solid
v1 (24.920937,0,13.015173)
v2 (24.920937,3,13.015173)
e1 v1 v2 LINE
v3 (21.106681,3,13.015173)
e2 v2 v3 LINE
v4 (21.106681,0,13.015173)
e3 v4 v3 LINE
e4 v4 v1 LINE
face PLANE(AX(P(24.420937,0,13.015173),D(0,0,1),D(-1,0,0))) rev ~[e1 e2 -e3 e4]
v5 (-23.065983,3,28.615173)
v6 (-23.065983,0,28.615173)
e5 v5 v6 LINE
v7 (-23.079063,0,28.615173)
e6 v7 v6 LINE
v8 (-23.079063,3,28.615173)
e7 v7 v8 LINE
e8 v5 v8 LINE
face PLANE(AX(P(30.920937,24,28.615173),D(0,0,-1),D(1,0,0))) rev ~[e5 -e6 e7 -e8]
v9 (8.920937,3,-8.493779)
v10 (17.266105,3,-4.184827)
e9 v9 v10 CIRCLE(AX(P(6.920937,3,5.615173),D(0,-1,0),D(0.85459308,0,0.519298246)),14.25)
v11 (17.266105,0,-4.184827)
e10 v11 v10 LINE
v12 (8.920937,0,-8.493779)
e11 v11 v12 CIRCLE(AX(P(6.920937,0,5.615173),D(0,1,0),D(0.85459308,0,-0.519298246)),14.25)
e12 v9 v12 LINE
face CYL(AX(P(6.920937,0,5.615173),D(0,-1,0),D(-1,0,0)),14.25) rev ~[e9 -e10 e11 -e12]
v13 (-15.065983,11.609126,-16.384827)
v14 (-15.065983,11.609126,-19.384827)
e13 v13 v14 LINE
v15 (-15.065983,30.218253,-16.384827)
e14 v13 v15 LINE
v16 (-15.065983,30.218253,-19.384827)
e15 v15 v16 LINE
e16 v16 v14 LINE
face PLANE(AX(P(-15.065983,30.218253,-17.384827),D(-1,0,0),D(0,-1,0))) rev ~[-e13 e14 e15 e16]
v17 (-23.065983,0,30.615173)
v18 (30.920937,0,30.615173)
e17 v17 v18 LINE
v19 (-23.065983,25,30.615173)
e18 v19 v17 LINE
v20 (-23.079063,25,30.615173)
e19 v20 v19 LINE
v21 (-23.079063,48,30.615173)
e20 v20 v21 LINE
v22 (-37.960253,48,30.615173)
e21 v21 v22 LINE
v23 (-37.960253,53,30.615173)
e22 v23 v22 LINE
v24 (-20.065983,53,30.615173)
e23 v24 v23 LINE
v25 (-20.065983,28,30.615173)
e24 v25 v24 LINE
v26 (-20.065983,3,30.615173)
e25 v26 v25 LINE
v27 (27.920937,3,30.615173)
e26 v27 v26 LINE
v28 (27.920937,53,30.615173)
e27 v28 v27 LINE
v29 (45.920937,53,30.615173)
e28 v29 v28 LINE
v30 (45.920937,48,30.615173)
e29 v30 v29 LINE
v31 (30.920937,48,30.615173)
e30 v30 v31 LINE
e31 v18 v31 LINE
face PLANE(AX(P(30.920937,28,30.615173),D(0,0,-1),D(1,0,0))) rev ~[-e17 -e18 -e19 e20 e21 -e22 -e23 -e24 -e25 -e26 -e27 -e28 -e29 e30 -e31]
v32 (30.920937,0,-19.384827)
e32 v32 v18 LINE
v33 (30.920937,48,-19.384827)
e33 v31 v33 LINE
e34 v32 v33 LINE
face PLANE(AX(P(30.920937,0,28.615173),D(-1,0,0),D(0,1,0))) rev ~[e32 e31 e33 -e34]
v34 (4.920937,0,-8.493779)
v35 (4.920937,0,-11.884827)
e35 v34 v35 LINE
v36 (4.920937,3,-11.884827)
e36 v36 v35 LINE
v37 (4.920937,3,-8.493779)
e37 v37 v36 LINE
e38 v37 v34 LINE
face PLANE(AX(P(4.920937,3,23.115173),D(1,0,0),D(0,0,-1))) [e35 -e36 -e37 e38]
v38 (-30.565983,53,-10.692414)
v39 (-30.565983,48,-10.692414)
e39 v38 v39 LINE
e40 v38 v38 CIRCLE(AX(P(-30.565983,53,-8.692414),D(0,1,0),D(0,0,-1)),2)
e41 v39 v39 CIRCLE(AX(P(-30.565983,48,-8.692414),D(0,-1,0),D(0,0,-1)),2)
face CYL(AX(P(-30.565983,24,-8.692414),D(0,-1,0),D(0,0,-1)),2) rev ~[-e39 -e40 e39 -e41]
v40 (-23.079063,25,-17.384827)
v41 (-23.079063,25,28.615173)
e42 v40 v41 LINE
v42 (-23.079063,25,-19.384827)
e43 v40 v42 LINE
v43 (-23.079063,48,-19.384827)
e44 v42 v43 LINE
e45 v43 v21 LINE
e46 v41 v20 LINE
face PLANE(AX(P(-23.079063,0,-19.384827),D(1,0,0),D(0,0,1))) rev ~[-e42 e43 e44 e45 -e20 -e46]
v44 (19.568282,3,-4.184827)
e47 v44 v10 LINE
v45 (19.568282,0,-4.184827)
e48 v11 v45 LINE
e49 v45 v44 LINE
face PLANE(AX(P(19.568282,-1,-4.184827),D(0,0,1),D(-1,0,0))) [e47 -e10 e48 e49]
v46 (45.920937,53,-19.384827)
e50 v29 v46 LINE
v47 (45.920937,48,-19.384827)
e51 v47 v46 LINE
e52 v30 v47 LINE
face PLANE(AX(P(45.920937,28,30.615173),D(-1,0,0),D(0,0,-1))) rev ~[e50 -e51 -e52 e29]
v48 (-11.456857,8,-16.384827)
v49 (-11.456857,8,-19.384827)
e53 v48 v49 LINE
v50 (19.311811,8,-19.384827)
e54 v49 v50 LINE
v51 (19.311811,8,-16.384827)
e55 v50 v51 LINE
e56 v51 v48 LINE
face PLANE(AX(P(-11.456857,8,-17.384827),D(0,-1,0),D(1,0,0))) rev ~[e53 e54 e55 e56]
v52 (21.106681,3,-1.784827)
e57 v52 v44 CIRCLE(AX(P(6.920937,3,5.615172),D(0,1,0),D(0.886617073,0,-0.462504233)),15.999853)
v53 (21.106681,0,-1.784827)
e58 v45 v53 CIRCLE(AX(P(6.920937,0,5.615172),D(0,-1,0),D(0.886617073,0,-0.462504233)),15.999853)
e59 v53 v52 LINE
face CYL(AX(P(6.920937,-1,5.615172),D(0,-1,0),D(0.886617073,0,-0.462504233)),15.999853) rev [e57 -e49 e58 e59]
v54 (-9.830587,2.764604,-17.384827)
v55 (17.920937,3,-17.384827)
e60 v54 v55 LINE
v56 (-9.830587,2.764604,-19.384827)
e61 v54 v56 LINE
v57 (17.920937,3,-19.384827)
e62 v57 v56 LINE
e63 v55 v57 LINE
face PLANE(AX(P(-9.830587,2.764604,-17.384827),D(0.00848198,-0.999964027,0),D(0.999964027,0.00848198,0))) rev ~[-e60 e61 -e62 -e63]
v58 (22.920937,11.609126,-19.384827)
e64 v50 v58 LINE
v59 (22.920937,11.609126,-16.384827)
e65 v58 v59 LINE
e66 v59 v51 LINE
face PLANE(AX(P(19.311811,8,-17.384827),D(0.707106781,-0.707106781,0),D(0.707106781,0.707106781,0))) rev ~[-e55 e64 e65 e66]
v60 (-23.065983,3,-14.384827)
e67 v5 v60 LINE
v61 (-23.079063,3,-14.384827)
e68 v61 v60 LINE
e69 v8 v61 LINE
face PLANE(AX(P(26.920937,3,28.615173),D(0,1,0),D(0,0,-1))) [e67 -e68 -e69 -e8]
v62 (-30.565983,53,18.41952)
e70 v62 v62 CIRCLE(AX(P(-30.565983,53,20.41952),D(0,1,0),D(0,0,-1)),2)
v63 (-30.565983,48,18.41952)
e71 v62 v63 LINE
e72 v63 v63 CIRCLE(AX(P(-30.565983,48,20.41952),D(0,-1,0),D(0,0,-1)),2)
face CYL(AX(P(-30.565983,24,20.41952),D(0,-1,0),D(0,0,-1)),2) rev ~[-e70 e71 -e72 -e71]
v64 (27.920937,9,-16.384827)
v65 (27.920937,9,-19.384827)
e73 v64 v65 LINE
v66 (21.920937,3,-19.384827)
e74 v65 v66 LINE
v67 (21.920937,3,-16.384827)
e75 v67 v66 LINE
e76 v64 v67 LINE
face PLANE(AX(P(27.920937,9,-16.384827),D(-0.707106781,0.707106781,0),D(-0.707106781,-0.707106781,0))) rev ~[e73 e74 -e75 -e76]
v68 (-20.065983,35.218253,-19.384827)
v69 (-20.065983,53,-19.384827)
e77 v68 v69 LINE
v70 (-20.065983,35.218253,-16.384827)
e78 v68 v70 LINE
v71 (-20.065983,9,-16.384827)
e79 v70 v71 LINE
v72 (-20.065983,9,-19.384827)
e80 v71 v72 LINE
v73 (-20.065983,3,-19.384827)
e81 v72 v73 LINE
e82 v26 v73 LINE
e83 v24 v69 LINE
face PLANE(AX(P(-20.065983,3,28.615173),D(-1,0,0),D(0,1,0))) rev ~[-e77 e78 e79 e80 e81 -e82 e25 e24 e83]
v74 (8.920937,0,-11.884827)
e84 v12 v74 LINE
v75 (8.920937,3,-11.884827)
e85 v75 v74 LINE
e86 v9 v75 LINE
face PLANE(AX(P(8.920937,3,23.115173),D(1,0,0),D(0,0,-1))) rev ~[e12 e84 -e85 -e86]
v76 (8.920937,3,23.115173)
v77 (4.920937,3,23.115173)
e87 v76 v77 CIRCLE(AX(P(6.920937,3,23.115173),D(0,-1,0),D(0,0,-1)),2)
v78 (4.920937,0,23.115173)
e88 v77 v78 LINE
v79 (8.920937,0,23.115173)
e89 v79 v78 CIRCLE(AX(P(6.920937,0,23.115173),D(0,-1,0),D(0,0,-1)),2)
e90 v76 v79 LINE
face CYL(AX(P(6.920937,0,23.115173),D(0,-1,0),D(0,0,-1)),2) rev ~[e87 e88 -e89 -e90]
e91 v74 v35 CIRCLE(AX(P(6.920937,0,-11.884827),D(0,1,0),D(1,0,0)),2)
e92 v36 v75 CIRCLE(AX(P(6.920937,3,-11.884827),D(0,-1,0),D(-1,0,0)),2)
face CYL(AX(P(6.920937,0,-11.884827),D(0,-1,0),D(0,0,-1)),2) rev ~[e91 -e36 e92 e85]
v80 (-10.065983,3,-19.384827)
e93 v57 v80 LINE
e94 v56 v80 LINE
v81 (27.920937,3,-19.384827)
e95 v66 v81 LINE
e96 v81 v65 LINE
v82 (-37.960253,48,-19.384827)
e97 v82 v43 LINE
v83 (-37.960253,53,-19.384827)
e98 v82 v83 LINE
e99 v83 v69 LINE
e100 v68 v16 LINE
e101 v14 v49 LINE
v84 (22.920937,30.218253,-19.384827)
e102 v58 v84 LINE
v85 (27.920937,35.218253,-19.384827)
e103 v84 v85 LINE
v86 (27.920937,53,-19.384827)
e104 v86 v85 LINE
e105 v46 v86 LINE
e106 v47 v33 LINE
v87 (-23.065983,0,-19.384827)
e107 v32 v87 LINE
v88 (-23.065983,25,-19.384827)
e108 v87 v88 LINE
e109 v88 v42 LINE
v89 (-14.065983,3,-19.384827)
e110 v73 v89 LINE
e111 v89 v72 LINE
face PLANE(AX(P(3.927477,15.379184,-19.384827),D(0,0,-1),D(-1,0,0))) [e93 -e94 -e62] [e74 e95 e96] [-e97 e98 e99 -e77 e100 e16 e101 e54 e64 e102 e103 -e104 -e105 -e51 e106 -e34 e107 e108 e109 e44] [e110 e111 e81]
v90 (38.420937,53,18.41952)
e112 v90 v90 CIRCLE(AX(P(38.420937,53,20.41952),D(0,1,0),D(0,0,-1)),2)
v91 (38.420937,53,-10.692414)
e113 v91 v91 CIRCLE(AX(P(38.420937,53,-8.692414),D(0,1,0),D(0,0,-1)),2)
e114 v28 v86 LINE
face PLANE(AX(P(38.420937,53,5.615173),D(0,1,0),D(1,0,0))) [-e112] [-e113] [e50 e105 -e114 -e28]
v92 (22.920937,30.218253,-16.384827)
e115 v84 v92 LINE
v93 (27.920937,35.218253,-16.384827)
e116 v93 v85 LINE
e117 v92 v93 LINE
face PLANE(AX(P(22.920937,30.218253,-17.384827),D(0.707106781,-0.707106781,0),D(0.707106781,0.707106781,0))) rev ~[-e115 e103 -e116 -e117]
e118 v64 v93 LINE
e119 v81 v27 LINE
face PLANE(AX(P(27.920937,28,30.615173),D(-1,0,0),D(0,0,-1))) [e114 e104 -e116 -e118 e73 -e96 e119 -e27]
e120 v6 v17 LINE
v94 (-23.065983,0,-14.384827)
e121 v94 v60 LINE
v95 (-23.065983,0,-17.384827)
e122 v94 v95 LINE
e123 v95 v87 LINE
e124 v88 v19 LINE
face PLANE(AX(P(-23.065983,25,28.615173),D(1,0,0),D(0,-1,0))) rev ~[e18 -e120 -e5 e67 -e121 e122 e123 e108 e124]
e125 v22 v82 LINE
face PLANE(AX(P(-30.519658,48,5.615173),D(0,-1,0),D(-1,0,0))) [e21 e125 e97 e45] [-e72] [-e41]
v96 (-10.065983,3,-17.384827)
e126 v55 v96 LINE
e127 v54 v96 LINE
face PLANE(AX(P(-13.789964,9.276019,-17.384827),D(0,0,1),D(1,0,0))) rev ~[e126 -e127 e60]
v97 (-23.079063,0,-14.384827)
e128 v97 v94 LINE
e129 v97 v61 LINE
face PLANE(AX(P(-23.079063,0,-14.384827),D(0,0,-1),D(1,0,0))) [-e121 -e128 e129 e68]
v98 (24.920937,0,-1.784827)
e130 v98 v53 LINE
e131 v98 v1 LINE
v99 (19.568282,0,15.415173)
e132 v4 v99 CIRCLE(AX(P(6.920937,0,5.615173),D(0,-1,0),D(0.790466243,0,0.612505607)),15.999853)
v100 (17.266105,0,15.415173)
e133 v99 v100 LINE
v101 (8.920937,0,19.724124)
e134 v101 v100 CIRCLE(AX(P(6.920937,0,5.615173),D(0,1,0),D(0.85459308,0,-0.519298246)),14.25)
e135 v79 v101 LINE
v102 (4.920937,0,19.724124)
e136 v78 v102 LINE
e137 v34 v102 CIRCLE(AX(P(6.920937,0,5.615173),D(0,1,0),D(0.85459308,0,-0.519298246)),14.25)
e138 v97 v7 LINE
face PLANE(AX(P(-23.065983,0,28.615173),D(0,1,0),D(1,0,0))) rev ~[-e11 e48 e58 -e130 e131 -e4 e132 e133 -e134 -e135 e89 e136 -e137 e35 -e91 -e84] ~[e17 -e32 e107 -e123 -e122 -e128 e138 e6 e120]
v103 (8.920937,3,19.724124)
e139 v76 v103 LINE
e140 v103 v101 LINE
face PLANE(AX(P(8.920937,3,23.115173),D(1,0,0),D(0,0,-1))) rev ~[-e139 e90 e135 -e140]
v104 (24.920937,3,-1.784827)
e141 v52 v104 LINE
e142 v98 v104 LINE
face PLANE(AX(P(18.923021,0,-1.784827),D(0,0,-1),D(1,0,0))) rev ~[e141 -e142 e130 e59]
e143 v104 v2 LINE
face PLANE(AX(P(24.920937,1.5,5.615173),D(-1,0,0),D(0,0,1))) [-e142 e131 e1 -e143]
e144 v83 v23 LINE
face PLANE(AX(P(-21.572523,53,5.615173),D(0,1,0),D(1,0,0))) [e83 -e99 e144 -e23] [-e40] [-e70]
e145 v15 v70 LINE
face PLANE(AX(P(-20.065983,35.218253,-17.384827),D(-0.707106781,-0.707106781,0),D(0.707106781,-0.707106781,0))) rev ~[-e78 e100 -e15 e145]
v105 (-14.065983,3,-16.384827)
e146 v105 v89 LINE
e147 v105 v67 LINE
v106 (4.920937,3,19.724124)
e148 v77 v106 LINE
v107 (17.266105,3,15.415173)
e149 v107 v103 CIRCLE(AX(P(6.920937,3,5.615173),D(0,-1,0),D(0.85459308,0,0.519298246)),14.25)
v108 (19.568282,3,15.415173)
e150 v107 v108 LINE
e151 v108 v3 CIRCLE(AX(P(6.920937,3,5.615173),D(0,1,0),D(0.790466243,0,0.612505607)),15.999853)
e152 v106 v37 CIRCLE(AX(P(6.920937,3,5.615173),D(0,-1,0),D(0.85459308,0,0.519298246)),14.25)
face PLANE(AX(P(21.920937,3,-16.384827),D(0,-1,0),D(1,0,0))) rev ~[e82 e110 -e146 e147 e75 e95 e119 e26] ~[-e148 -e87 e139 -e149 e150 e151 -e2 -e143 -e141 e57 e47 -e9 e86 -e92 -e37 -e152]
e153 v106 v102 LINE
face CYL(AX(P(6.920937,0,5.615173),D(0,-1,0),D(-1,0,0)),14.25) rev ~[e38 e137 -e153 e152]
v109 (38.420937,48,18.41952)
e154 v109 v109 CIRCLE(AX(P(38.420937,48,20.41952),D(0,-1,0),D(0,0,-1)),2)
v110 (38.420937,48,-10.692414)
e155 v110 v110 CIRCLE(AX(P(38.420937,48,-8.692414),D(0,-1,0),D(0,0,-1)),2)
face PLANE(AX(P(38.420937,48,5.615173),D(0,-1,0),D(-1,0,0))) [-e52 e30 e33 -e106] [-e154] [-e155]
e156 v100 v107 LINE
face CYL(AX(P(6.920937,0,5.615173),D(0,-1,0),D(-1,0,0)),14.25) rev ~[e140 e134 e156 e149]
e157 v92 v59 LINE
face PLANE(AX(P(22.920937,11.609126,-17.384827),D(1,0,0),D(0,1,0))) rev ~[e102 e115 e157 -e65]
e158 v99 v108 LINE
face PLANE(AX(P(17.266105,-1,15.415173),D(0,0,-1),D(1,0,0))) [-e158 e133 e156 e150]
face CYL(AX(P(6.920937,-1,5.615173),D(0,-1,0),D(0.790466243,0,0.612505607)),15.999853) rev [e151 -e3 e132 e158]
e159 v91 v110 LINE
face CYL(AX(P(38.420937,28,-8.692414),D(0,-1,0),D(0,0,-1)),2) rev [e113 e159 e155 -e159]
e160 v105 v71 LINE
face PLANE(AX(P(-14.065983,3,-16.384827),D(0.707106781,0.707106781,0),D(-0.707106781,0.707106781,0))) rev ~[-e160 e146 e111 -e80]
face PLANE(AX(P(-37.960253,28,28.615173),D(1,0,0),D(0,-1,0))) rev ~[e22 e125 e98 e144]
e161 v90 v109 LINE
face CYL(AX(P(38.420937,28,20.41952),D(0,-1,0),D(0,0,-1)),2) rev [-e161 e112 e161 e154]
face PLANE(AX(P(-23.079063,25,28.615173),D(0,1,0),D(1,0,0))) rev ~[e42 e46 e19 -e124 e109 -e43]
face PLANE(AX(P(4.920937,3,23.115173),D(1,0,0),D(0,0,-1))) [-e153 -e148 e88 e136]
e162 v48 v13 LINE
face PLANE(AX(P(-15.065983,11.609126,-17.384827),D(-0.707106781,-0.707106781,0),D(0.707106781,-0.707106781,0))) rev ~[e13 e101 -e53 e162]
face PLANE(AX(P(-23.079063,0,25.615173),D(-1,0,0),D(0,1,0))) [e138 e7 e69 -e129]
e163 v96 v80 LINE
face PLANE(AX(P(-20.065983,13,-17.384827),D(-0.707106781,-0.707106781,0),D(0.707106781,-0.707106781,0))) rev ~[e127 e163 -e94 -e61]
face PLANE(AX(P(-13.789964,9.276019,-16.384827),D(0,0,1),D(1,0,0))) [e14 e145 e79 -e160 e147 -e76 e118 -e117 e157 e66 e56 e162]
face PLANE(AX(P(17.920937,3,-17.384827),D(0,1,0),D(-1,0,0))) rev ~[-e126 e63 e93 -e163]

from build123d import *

# Parameters (mm, degrees)
SKETCH1_W                = 50
SKETCH1_H                = 40
BOSS_EXTRUDE1_DEPTH      = 3
SKETCH6_R                = 2
CUT_EXTRUDE9_DEPTH       = 5
SKETCH16_W               = 14.8
SKETCH16_H               = 3
CUT_EXTRUDE10_DEPTH      = 0.5
SKETCH21_R               = 14.25
CUT_EXTRUDE15_DEPTH      = 4
CUT_EXTRUDE16_START      = -4
CUT_EXTRUDE16_DEPTH      = 4
SKETCH33_W               = 4
SKETCH33_H               = 35
CUT_EXTRUDE23_DEPTH      = 5
SKETCH34_W               = 49.986920535
SKETCH34_H               = 3
BOSS_EXTRUDE2_DEPTH      = 3
SKETCH35_W               = 50
SKETCH35_H               = 3
BOSS_EXTRUDE3_DEPTH      = 3
SKETCH36_W               = 46
SKETCH36_H               = 3
BOSS_EXTRUDE4_DEPTH      = 4
SKETCH38_W               = 3
SKETCH38_H               = 46
BOSS_EXTRUDE5_DEPTH      = 25
SKETCH39_W               = 45.535565308
SKETCH39_H               = 3
BOSS_EXTRUDE6_DEPTH      = 15
SKETCH40_W               = 46
SKETCH40_H               = 3
BOSS_EXTRUDE7_DEPTH      = 15
SKETCH41_W               = 0.464434692
SKETCH41_H               = 3
BOSS_EXTRUDE8_DEPTH      = 15
SKETCH42_R               = 2
CUT_EXTRUDE24_DEPTH      = 15
SKETCH43_R               = 2
CUT_EXTRUDE25_DEPTH      = 15
BOSS_EXTRUDE10_START     = 1
SKETCH44_W               = 14.986920535
SKETCH44_H               = 46
SKETCH44_R               = 2
BOSS_EXTRUDE10_DEPTH     = 1
BOSS_EXTRUDE11_START     = 1
SKETCH46_W               = 15
SKETCH46_H               = 46
SKETCH46_R               = 2
BOSS_EXTRUDE11_DEPTH     = 1
BOSS_EXTRUDE12_DEPTH     = 2
BOSS_EXTRUDE13_DEPTH     = 2
SKETCH49_W               = 47.986920535
SKETCH49_H               = 2
BOSS_EXTRUDE14_DEPTH     = 10
CUT_EXTRUDE26_DEPTH      = 10
SKETCH51_W               = 15
SKETCH51_H               = 50
SKETCH51_R               = 2
SKETCH51_W_2             = 3.013079465
SKETCH51_W_3             = 3
BOSS_EXTRUDE15_DEPTH     = 25
CUT_EXTRUDE27_DEPTH      = 63.345980453
CUT_EXTRUDE27_DEPTH_BACK = 63.345980453
SKETCH53_R               = 2
SKETCH54_W               = 15
SKETCH54_H               = 50
CUT_EXTRUDE28_DEPTH      = 48
SKETCH55_W               = 46
SKETCH55_H               = 4
CUT_EXTRUDE29_DEPTH      = 3
SKETCH56_W               = 5
SKETCH56_H               = 5
BOSS_EXTRUDE18_DEPTH     = 1
BOSS_EXTRUDE19_DEPTH     = 2
CUT_EXTRUDE30_DEPTH      = 3


with BuildPart() as part:
    # Sketch1 → Boss-Extrude1 (new body)
    with BuildSketch(Plane(origin=(0, 0, 0), x_dir=(1, 0, 0), z_dir=(0, 1, 0))):
        with Locations((1.920937393, -5.615172506)):
            Rectangle(SKETCH1_W, SKETCH1_H)
    extrude(amount=BOSS_EXTRUDE1_DEPTH)

    # Sketch6 → Cut-Extrude9 (cut)
    with BuildSketch(Plane.XZ):
        with Locations(Location((6.920937393, 23.115172506, 0), (0, 0, 270))):
            Circle(SKETCH6_R)
        with Locations(Location((6.920937393, -11.884827494, 0), (0, 0, 270))):
            Circle(SKETCH6_R)
        with BuildLine():
            Line((24.420937393, 13.015172506), (18.923020545, 13.015172506))
            ThreePointArc((18.923020545, 13.015172506), (-7.179062607, 5.615172506), (18.923020545, -1.784827494))
            Line((18.923020545, -1.784827494), (24.420937393, -1.784827494))
            Line((24.420937393, -1.784827494), (24.420937393, 5.615172506))
            Line((24.420937393, 5.615172506), (24.420937393, 13.015172506))
        make_face()
    extrude(amount=-CUT_EXTRUDE9_DEPTH, mode=Mode.SUBTRACT)

    # Sketch16 → Cut-Extrude10 (cut)
    with BuildSketch(Plane.ZY.offset(-24.420937393)):
        with Locations((5.615172506, 1.5)):
            Rectangle(SKETCH16_W, SKETCH16_H)
    extrude(amount=-CUT_EXTRUDE10_DEPTH, mode=Mode.SUBTRACT)

    # Sketch21 → Cut-Extrude15 (cut)
    with BuildSketch(Plane(origin=(0, 0, 0), x_dir=(-1, 0, 0), z_dir=(0, -1, 0))):
        with Locations((-6.920937393, -5.615172506)):
            Circle(SKETCH21_R)
    extrude(amount=-CUT_EXTRUDE15_DEPTH, mode=Mode.SUBTRACT)

    # Sketch22 → Cut-Extrude16 (cut)
    with BuildSketch(Plane(origin=(0, 3, 0), x_dir=(1, 0, 0), z_dir=(0, 1, 0)).offset(CUT_EXTRUDE16_START)):
        with BuildLine():
            ThreePointArc((21.106680727, 1.784827494), (20.39103932, 3.019158274), (19.568281538, 4.184827494))
            Line((19.568281538, 4.184827494), (17.266105347, 4.184827494))
            ThreePointArc((17.266105347, 4.184827494), (18.246250908, 3.03351374), (19.09888878, 1.784827494))
            Line((19.09888878, 1.784827494), (21.106680727, 1.784827494))
        make_face()
        with BuildLine():
            Line((17.266105347, -15.415172506), (19.568281538, -15.415172506))
            ThreePointArc((19.568281538, -15.415172506), (20.39103932, -14.249503286), (21.106680727, -13.015172506))
            Line((21.106680727, -13.015172506), (19.09888878, -13.015172506))
            ThreePointArc((19.09888878, -13.015172506), (18.246250908, -14.263858752), (17.266105347, -15.415172506))
        make_face()
    extrude(amount=CUT_EXTRUDE16_DEPTH, mode=Mode.SUBTRACT)

    # Sketch33 → Cut-Extrude23 (cut)
    with BuildSketch(Plane(origin=(0, 3, 0), x_dir=(1, 0, 0), z_dir=(0, 1, 0))):
        with Locations((6.920937393, -5.615172506)):
            Rectangle(SKETCH33_W, SKETCH33_H)
    extrude(amount=-CUT_EXTRUDE23_DEPTH, mode=Mode.SUBTRACT)

    # Sketch34 → Boss-Extrude2 (add)
    with BuildSketch(Plane(origin=(0, 0, -14.384827494), x_dir=(-1, 0, 0), z_dir=(0, 0, -1))):
        with Locations((-1.927477126, 1.5)):
            Rectangle(SKETCH34_W, SKETCH34_H)
    extrude(amount=BOSS_EXTRUDE2_DEPTH)

    # Sketch35 → Boss-Extrude3 (add)
    with BuildSketch(Plane.XY.offset(25.615172506)):
        with Locations((1.920937393, 1.5)):
            Rectangle(SKETCH35_W, SKETCH35_H)
    extrude(amount=BOSS_EXTRUDE3_DEPTH)

    # Sketch36 → Boss-Extrude4 (add)
    with BuildSketch(Plane(origin=(26.920937393, 0, 0), x_dir=(0, 0, -1), z_dir=(1, 0, 0))):
        with Locations((-5.615172506, 1.5)):
            Rectangle(SKETCH36_W, SKETCH36_H)
    extrude(amount=BOSS_EXTRUDE4_DEPTH)

    # Sketch38 → Boss-Extrude5 (add)
    with BuildSketch(Plane(origin=(0, 3, 0), x_dir=(1, 0, 0), z_dir=(0, 1, 0))):
        with Locations((29.420937393, -5.615172506)):
            Rectangle(SKETCH38_W, SKETCH38_H)
        with Locations((-21.565983142, -5.615172506)):
            Rectangle(SKETCH38_W, SKETCH38_H)
    extrude(amount=BOSS_EXTRUDE5_DEPTH)

    # Sketch39 → Boss-Extrude6 (add)
    with BuildSketch(Plane.ZY.offset(23.065983142)):
        with Locations((5.38295516, 26.5)):
            Rectangle(SKETCH39_W, SKETCH39_H)
    extrude(amount=BOSS_EXTRUDE6_DEPTH)

    # Sketch40 → Boss-Extrude7 (add)
    with BuildSketch(Plane(origin=(30.920937393, 0, 0), x_dir=(0, 0, -1), z_dir=(1, 0, 0))):
        with Locations((-5.615172506, 26.5)):
            Rectangle(SKETCH40_W, SKETCH40_H)
    extrude(amount=BOSS_EXTRUDE7_DEPTH)

    # Sketch41 → Boss-Extrude8 (add)
    with BuildSketch(Plane.ZY.offset(23.065983142)):
        with Locations((28.38295516, 26.5)):
            Rectangle(SKETCH41_W, SKETCH41_H)
    extrude(amount=BOSS_EXTRUDE8_DEPTH)

    # Sketch42 → Cut-Extrude24 (cut)
    with BuildSketch(Plane.XZ.offset(-25)):
        with Locations(Location((38.420937393, 20.419520332, 0), (0, 0, 270))):
            Circle(SKETCH42_R)
        with Locations(Location((38.420937393, -8.692413747, 0), (0, 0, 270))):
            Circle(SKETCH42_R)
    extrude(amount=-CUT_EXTRUDE24_DEPTH, mode=Mode.SUBTRACT)

    # Sketch43 → Cut-Extrude25 (cut)
    with BuildSketch(Plane.XZ.offset(-25)):
        with Locations(Location((-30.565983142, 20.419520332, 0), (0, 0, 270))):
            Circle(SKETCH43_R)
        with Locations(Location((-30.565983142, -8.692413747, 0), (0, 0, 270))):
            Circle(SKETCH43_R)
    extrude(amount=-CUT_EXTRUDE25_DEPTH, mode=Mode.SUBTRACT)

    # Sketch44 → Boss-Extrude10 (add)
    with BuildSketch(Plane.XZ.offset(-25).offset(BOSS_EXTRUDE10_START)):
        with Locations((-30.572522875, 5.615172506)):
            Rectangle(SKETCH44_W, SKETCH44_H)
        with Locations(Location((-30.565983142, -8.692413747, 0), (0, 0, 270))):
            Circle(SKETCH44_R, mode=Mode.SUBTRACT)
        with Locations(Location((-30.565983142, 20.419520332, 0), (0, 0, 270))):
            Circle(SKETCH44_R, mode=Mode.SUBTRACT)
    extrude(amount=-BOSS_EXTRUDE10_DEPTH)

    # Sketch46 → Boss-Extrude11 (add)
    with BuildSketch(Plane.XZ.offset(-25).offset(BOSS_EXTRUDE11_START)):
        with Locations((38.420937393, 5.615172506)):
            Rectangle(SKETCH46_W, SKETCH46_H)
        with Locations(Location((38.420937393, -8.692413747, 0), (0, 0, 270))):
            Circle(SKETCH46_R, mode=Mode.SUBTRACT)
        with Locations(Location((38.420937393, 20.419520332, 0), (0, 0, 270))):
            Circle(SKETCH46_R, mode=Mode.SUBTRACT)
    extrude(amount=-BOSS_EXTRUDE11_DEPTH)

    # Sketch47 → Boss-Extrude12 (add)
    with BuildSketch(Plane(origin=(0, 0, -17.384827494), x_dir=(-1, 0, 0), z_dir=(0, 0, -1))):
        Polygon((-27.920937393, 28), (-45.920937393, 28), (-45.920937393, 24), (-30.920937393, 24), (-30.920937393, 0), (23.065983142, 0), (23.065983142, 3), (23.065983142, 25), (23.079062607, 25), (23.079062607, 24), (37.960253495, 24), (37.960253495, 28), (20.065983142, 28), (20.065983142, 3), (-27.920937393, 3), align=None)
    extrude(amount=BOSS_EXTRUDE12_DEPTH)

    # Sketch48 → Boss-Extrude13 (add)
    with BuildSketch(Plane.XY.offset(28.615172506)):
        Polygon((-20.065983142, 28), (-37.960253495, 28), (-37.960253495, 24), (-23.079062607, 24), (-23.079062607, 25), (-23.065983142, 25), (-23.065983142, 3), (-23.065983142, 0), (30.920937393, 0), (30.920937393, 24), (45.920937393, 24), (45.920937393, 28), (27.920937393, 28), (27.920937393, 3), (-20.065983142, 3), align=None)
    extrude(amount=BOSS_EXTRUDE13_DEPTH)

    # Sketch49 → Boss-Extrude14 (add)
    with BuildSketch(Plane(origin=(0, 3, 0), x_dir=(1, 0, 0), z_dir=(0, 1, 0))):
        with Locations((3.927477126, 18.384827494)):
            Rectangle(SKETCH49_W, SKETCH49_H)
    extrude(amount=BOSS_EXTRUDE14_DEPTH)

    # Sketch50 → Cut-Extrude26 (cut)
    with BuildSketch(Plane.XY.offset(-17.384827494)):
        Polygon((-20.065983142, 13), (-9.830586805, 2.764603663), (17.920937393, 3), (27.920937393, 13), align=None)
    extrude(amount=-CUT_EXTRUDE26_DEPTH, mode=Mode.SUBTRACT)

    # Sketch51 → Boss-Extrude15 (add)
    # profile 1 of 4: a face of its own
    with BuildSketch(Plane(origin=(0, 28, 0), x_dir=(1, 0, 0), z_dir=(0, 1, 0))):
        with Locations((38.420937393, -5.615172506)):
            Rectangle(SKETCH51_W, SKETCH51_H)
        with Locations(Location((38.420937393, -20.419520332, 0), (0, 0, 90))):
            Circle(SKETCH51_R, mode=Mode.SUBTRACT)
        with Locations(Location((38.420937393, 8.692413747, 0), (0, 0, 90))):
            Circle(SKETCH51_R, mode=Mode.SUBTRACT)
    # profile 2 of 4: a face of its own
    with BuildSketch(Plane(origin=(0, 28, 0), x_dir=(1, 0, 0), z_dir=(0, 1, 0))):
        Polygon((-23.079062607, 19.384827494), (-37.960253495, 19.384827494), (-37.960253495, 17.384827494), (-37.960253495, -28.615172506), (-37.960253495, -30.615172506), (-23.079062607, -30.615172506), align=None)
    # profile 3 of 4: a face of its own
    with BuildSketch(Plane(origin=(0, 28, 0), x_dir=(1, 0, 0), z_dir=(0, 1, 0))):
        with Locations((-21.572522875, -5.615172506)):
            Rectangle(SKETCH51_W_2, SKETCH51_H)
    # profile 4 of 4: a face of its own
    with BuildSketch(Plane(origin=(0, 28, 0), x_dir=(1, 0, 0), z_dir=(0, 1, 0))):
        with Locations((29.420937393, -5.615172506)):
            Rectangle(SKETCH51_W_3, SKETCH51_H)
    extrude(amount=BOSS_EXTRUDE15_DEPTH)

    # Sketch53 → Cut-Extrude27 (cut, two sides: drawn at the far end of the back side and taken through both)
    with BuildSketch(Plane.XZ.offset(-24).offset(-CUT_EXTRUDE27_DEPTH_BACK)):
        with Locations(Location((-30.565983142, 20.419520332, 0), (0, 0, 270))):
            Circle(SKETCH53_R)
        with Locations(Location((-30.565983142, -8.692413747, 0), (0, 0, 270))):
            Circle(SKETCH53_R)
    extrude(amount=CUT_EXTRUDE27_DEPTH + CUT_EXTRUDE27_DEPTH_BACK, mode=Mode.SUBTRACT)

    # Sketch54 → Cut-Extrude28 (cut)
    with BuildSketch(Plane(origin=(0, 0, 0), x_dir=(-1, 0, 0), z_dir=(0, -1, 0))):
        Polygon((23.079062607, -30.615172506), (37.960253495, -30.615172506), (37.960253495, 19.384827494), (23.079062607, 19.384827494), (23.079062607, 14.384827494), (23.079062607, -28.615172506), align=None)
        with Locations((-38.420937393, -5.615172506)):
            Rectangle(SKETCH54_W, SKETCH54_H)
    extrude(amount=-CUT_EXTRUDE28_DEPTH, mode=Mode.SUBTRACT)


with BuildPart() as cut_extrude28_piece_1:
    # of the separate pieces the step leaves, piece 1, a body of its own (cut_extrude28_pieces)
    add(part.part.solids().sort_by_distance((-23.079062607, 0, -14.384827494))[0])

    # Sketch56 → Boss-Extrude18 (add)
    with BuildSketch(Plane.XY.offset(-17.384827494)):
        Polygon((-11.456856729, 8), (-15.065983142, 11.609126412), (-15.065983142, 8), align=None)
        Polygon((-6.456856729, 3), (-11.456856729, 8), (-15.065983142, 8), (-10.065983142, 3), align=None)
        Polygon((-15.065983142, 11.609126412), (-20.065983142, 16.609126412), (-20.065983142, 13), (-15.065983142, 8), align=None)
        Polygon((-20.065983142, 30.218252825), (-20.065983142, 16.609126412), (-15.065983142, 30.218252825), align=None)
        Polygon((-15.065983142, 30.218252825), (-20.065983142, 16.609126412), (-15.065983142, 11.609126412), align=None)
        Polygon((19.31181098, 8), (-11.456856729, 8), (-6.456856729, 3), (14.31181098, 3), align=None)
        Polygon((22.920937393, 8), (19.31181098, 8), (14.31181098, 3), (22.920937393, 3), align=None)
        Polygon((22.920937393, 11.609126412), (19.31181098, 8), (22.920937393, 8), align=None)
        Polygon((22.920937393, 11.609126412), (22.920937393, 8), (27.920937393, 8), (27.920937393, 16.609126412), align=None)
        Polygon((22.920937393, 30.218252825), (22.920937393, 11.609126412), (27.920937393, 16.609126412), (27.920937393, 30.218252825), align=None)
        Polygon((-15.065983142, 30.218252825), (-20.065983142, 35.218252825), (-20.065983142, 30.218252825), align=None)
        Polygon((27.920937393, 35.218252825), (27.920937393, 30.218252825), (22.920937393, 30.218252825), align=None)
        with Locations((25.420937393, 5.5)):
            Rectangle(SKETCH56_W, SKETCH56_H)
        with Locations((-17.565983142, 5.5)):
            Rectangle(SKETCH56_W, SKETCH56_H)
        Polygon((-10.065983142, 3), (-15.065983142, 8), (-15.065983142, 3), align=None)
        Polygon((-15.065983142, 8), (-20.065983142, 13), (-20.065983142, 8), align=None)
    extrude(amount=BOSS_EXTRUDE18_DEPTH)

    # Sketch57 → Boss-Extrude19 (add)
    with BuildSketch(Plane(origin=(0, 0, -17.384827494), x_dir=(-1, 0, 0), z_dir=(0, 0, -1))):
        Polygon((-22.920937393, 30.218252825), (-27.920937393, 35.218252825), (-27.920937393, 13), (-17.920937393, 3), (10.065983142, 3), (20.065983142, 13), (20.065983142, 35.218252825), (15.065983142, 30.218252825), (15.065983142, 11.609126412), (11.456856729, 8), (-19.31181098, 8), (-22.920937393, 11.609126412), align=None)
    extrude(amount=BOSS_EXTRUDE19_DEPTH)

    # Sketch58 → Cut-Extrude30 (cut)
    with BuildSketch(Plane.XY.offset(-16.384827494)):
        Polygon((-20.065983142, 3), (-14.065983142, 3), (-20.065983142, 9), align=None)
        Polygon((27.920937393, 3), (27.920937393, 9), (21.920937393, 3), align=None)
    extrude(amount=-CUT_EXTRUDE30_DEPTH, mode=Mode.SUBTRACT)


with BuildPart() as cut_extrude28_piece_2:
    # of the separate pieces the step leaves, piece 2, a body of its own (cut_extrude28_pieces)
    add(part.part.solids().sort_by_distance((-37.960253495, 24, 28.615172506))[0])

    # Sketch55 → Cut-Extrude29 (cut)
    with BuildSketch(Plane.ZY.offset(38.065983142)):
        with Locations((5.615172506, 26)):
            Rectangle(SKETCH55_W, SKETCH55_H)
    extrude(amount=-CUT_EXTRUDE29_DEPTH, mode=Mode.SUBTRACT)


solid = cut_extrude28_piece_1.part
